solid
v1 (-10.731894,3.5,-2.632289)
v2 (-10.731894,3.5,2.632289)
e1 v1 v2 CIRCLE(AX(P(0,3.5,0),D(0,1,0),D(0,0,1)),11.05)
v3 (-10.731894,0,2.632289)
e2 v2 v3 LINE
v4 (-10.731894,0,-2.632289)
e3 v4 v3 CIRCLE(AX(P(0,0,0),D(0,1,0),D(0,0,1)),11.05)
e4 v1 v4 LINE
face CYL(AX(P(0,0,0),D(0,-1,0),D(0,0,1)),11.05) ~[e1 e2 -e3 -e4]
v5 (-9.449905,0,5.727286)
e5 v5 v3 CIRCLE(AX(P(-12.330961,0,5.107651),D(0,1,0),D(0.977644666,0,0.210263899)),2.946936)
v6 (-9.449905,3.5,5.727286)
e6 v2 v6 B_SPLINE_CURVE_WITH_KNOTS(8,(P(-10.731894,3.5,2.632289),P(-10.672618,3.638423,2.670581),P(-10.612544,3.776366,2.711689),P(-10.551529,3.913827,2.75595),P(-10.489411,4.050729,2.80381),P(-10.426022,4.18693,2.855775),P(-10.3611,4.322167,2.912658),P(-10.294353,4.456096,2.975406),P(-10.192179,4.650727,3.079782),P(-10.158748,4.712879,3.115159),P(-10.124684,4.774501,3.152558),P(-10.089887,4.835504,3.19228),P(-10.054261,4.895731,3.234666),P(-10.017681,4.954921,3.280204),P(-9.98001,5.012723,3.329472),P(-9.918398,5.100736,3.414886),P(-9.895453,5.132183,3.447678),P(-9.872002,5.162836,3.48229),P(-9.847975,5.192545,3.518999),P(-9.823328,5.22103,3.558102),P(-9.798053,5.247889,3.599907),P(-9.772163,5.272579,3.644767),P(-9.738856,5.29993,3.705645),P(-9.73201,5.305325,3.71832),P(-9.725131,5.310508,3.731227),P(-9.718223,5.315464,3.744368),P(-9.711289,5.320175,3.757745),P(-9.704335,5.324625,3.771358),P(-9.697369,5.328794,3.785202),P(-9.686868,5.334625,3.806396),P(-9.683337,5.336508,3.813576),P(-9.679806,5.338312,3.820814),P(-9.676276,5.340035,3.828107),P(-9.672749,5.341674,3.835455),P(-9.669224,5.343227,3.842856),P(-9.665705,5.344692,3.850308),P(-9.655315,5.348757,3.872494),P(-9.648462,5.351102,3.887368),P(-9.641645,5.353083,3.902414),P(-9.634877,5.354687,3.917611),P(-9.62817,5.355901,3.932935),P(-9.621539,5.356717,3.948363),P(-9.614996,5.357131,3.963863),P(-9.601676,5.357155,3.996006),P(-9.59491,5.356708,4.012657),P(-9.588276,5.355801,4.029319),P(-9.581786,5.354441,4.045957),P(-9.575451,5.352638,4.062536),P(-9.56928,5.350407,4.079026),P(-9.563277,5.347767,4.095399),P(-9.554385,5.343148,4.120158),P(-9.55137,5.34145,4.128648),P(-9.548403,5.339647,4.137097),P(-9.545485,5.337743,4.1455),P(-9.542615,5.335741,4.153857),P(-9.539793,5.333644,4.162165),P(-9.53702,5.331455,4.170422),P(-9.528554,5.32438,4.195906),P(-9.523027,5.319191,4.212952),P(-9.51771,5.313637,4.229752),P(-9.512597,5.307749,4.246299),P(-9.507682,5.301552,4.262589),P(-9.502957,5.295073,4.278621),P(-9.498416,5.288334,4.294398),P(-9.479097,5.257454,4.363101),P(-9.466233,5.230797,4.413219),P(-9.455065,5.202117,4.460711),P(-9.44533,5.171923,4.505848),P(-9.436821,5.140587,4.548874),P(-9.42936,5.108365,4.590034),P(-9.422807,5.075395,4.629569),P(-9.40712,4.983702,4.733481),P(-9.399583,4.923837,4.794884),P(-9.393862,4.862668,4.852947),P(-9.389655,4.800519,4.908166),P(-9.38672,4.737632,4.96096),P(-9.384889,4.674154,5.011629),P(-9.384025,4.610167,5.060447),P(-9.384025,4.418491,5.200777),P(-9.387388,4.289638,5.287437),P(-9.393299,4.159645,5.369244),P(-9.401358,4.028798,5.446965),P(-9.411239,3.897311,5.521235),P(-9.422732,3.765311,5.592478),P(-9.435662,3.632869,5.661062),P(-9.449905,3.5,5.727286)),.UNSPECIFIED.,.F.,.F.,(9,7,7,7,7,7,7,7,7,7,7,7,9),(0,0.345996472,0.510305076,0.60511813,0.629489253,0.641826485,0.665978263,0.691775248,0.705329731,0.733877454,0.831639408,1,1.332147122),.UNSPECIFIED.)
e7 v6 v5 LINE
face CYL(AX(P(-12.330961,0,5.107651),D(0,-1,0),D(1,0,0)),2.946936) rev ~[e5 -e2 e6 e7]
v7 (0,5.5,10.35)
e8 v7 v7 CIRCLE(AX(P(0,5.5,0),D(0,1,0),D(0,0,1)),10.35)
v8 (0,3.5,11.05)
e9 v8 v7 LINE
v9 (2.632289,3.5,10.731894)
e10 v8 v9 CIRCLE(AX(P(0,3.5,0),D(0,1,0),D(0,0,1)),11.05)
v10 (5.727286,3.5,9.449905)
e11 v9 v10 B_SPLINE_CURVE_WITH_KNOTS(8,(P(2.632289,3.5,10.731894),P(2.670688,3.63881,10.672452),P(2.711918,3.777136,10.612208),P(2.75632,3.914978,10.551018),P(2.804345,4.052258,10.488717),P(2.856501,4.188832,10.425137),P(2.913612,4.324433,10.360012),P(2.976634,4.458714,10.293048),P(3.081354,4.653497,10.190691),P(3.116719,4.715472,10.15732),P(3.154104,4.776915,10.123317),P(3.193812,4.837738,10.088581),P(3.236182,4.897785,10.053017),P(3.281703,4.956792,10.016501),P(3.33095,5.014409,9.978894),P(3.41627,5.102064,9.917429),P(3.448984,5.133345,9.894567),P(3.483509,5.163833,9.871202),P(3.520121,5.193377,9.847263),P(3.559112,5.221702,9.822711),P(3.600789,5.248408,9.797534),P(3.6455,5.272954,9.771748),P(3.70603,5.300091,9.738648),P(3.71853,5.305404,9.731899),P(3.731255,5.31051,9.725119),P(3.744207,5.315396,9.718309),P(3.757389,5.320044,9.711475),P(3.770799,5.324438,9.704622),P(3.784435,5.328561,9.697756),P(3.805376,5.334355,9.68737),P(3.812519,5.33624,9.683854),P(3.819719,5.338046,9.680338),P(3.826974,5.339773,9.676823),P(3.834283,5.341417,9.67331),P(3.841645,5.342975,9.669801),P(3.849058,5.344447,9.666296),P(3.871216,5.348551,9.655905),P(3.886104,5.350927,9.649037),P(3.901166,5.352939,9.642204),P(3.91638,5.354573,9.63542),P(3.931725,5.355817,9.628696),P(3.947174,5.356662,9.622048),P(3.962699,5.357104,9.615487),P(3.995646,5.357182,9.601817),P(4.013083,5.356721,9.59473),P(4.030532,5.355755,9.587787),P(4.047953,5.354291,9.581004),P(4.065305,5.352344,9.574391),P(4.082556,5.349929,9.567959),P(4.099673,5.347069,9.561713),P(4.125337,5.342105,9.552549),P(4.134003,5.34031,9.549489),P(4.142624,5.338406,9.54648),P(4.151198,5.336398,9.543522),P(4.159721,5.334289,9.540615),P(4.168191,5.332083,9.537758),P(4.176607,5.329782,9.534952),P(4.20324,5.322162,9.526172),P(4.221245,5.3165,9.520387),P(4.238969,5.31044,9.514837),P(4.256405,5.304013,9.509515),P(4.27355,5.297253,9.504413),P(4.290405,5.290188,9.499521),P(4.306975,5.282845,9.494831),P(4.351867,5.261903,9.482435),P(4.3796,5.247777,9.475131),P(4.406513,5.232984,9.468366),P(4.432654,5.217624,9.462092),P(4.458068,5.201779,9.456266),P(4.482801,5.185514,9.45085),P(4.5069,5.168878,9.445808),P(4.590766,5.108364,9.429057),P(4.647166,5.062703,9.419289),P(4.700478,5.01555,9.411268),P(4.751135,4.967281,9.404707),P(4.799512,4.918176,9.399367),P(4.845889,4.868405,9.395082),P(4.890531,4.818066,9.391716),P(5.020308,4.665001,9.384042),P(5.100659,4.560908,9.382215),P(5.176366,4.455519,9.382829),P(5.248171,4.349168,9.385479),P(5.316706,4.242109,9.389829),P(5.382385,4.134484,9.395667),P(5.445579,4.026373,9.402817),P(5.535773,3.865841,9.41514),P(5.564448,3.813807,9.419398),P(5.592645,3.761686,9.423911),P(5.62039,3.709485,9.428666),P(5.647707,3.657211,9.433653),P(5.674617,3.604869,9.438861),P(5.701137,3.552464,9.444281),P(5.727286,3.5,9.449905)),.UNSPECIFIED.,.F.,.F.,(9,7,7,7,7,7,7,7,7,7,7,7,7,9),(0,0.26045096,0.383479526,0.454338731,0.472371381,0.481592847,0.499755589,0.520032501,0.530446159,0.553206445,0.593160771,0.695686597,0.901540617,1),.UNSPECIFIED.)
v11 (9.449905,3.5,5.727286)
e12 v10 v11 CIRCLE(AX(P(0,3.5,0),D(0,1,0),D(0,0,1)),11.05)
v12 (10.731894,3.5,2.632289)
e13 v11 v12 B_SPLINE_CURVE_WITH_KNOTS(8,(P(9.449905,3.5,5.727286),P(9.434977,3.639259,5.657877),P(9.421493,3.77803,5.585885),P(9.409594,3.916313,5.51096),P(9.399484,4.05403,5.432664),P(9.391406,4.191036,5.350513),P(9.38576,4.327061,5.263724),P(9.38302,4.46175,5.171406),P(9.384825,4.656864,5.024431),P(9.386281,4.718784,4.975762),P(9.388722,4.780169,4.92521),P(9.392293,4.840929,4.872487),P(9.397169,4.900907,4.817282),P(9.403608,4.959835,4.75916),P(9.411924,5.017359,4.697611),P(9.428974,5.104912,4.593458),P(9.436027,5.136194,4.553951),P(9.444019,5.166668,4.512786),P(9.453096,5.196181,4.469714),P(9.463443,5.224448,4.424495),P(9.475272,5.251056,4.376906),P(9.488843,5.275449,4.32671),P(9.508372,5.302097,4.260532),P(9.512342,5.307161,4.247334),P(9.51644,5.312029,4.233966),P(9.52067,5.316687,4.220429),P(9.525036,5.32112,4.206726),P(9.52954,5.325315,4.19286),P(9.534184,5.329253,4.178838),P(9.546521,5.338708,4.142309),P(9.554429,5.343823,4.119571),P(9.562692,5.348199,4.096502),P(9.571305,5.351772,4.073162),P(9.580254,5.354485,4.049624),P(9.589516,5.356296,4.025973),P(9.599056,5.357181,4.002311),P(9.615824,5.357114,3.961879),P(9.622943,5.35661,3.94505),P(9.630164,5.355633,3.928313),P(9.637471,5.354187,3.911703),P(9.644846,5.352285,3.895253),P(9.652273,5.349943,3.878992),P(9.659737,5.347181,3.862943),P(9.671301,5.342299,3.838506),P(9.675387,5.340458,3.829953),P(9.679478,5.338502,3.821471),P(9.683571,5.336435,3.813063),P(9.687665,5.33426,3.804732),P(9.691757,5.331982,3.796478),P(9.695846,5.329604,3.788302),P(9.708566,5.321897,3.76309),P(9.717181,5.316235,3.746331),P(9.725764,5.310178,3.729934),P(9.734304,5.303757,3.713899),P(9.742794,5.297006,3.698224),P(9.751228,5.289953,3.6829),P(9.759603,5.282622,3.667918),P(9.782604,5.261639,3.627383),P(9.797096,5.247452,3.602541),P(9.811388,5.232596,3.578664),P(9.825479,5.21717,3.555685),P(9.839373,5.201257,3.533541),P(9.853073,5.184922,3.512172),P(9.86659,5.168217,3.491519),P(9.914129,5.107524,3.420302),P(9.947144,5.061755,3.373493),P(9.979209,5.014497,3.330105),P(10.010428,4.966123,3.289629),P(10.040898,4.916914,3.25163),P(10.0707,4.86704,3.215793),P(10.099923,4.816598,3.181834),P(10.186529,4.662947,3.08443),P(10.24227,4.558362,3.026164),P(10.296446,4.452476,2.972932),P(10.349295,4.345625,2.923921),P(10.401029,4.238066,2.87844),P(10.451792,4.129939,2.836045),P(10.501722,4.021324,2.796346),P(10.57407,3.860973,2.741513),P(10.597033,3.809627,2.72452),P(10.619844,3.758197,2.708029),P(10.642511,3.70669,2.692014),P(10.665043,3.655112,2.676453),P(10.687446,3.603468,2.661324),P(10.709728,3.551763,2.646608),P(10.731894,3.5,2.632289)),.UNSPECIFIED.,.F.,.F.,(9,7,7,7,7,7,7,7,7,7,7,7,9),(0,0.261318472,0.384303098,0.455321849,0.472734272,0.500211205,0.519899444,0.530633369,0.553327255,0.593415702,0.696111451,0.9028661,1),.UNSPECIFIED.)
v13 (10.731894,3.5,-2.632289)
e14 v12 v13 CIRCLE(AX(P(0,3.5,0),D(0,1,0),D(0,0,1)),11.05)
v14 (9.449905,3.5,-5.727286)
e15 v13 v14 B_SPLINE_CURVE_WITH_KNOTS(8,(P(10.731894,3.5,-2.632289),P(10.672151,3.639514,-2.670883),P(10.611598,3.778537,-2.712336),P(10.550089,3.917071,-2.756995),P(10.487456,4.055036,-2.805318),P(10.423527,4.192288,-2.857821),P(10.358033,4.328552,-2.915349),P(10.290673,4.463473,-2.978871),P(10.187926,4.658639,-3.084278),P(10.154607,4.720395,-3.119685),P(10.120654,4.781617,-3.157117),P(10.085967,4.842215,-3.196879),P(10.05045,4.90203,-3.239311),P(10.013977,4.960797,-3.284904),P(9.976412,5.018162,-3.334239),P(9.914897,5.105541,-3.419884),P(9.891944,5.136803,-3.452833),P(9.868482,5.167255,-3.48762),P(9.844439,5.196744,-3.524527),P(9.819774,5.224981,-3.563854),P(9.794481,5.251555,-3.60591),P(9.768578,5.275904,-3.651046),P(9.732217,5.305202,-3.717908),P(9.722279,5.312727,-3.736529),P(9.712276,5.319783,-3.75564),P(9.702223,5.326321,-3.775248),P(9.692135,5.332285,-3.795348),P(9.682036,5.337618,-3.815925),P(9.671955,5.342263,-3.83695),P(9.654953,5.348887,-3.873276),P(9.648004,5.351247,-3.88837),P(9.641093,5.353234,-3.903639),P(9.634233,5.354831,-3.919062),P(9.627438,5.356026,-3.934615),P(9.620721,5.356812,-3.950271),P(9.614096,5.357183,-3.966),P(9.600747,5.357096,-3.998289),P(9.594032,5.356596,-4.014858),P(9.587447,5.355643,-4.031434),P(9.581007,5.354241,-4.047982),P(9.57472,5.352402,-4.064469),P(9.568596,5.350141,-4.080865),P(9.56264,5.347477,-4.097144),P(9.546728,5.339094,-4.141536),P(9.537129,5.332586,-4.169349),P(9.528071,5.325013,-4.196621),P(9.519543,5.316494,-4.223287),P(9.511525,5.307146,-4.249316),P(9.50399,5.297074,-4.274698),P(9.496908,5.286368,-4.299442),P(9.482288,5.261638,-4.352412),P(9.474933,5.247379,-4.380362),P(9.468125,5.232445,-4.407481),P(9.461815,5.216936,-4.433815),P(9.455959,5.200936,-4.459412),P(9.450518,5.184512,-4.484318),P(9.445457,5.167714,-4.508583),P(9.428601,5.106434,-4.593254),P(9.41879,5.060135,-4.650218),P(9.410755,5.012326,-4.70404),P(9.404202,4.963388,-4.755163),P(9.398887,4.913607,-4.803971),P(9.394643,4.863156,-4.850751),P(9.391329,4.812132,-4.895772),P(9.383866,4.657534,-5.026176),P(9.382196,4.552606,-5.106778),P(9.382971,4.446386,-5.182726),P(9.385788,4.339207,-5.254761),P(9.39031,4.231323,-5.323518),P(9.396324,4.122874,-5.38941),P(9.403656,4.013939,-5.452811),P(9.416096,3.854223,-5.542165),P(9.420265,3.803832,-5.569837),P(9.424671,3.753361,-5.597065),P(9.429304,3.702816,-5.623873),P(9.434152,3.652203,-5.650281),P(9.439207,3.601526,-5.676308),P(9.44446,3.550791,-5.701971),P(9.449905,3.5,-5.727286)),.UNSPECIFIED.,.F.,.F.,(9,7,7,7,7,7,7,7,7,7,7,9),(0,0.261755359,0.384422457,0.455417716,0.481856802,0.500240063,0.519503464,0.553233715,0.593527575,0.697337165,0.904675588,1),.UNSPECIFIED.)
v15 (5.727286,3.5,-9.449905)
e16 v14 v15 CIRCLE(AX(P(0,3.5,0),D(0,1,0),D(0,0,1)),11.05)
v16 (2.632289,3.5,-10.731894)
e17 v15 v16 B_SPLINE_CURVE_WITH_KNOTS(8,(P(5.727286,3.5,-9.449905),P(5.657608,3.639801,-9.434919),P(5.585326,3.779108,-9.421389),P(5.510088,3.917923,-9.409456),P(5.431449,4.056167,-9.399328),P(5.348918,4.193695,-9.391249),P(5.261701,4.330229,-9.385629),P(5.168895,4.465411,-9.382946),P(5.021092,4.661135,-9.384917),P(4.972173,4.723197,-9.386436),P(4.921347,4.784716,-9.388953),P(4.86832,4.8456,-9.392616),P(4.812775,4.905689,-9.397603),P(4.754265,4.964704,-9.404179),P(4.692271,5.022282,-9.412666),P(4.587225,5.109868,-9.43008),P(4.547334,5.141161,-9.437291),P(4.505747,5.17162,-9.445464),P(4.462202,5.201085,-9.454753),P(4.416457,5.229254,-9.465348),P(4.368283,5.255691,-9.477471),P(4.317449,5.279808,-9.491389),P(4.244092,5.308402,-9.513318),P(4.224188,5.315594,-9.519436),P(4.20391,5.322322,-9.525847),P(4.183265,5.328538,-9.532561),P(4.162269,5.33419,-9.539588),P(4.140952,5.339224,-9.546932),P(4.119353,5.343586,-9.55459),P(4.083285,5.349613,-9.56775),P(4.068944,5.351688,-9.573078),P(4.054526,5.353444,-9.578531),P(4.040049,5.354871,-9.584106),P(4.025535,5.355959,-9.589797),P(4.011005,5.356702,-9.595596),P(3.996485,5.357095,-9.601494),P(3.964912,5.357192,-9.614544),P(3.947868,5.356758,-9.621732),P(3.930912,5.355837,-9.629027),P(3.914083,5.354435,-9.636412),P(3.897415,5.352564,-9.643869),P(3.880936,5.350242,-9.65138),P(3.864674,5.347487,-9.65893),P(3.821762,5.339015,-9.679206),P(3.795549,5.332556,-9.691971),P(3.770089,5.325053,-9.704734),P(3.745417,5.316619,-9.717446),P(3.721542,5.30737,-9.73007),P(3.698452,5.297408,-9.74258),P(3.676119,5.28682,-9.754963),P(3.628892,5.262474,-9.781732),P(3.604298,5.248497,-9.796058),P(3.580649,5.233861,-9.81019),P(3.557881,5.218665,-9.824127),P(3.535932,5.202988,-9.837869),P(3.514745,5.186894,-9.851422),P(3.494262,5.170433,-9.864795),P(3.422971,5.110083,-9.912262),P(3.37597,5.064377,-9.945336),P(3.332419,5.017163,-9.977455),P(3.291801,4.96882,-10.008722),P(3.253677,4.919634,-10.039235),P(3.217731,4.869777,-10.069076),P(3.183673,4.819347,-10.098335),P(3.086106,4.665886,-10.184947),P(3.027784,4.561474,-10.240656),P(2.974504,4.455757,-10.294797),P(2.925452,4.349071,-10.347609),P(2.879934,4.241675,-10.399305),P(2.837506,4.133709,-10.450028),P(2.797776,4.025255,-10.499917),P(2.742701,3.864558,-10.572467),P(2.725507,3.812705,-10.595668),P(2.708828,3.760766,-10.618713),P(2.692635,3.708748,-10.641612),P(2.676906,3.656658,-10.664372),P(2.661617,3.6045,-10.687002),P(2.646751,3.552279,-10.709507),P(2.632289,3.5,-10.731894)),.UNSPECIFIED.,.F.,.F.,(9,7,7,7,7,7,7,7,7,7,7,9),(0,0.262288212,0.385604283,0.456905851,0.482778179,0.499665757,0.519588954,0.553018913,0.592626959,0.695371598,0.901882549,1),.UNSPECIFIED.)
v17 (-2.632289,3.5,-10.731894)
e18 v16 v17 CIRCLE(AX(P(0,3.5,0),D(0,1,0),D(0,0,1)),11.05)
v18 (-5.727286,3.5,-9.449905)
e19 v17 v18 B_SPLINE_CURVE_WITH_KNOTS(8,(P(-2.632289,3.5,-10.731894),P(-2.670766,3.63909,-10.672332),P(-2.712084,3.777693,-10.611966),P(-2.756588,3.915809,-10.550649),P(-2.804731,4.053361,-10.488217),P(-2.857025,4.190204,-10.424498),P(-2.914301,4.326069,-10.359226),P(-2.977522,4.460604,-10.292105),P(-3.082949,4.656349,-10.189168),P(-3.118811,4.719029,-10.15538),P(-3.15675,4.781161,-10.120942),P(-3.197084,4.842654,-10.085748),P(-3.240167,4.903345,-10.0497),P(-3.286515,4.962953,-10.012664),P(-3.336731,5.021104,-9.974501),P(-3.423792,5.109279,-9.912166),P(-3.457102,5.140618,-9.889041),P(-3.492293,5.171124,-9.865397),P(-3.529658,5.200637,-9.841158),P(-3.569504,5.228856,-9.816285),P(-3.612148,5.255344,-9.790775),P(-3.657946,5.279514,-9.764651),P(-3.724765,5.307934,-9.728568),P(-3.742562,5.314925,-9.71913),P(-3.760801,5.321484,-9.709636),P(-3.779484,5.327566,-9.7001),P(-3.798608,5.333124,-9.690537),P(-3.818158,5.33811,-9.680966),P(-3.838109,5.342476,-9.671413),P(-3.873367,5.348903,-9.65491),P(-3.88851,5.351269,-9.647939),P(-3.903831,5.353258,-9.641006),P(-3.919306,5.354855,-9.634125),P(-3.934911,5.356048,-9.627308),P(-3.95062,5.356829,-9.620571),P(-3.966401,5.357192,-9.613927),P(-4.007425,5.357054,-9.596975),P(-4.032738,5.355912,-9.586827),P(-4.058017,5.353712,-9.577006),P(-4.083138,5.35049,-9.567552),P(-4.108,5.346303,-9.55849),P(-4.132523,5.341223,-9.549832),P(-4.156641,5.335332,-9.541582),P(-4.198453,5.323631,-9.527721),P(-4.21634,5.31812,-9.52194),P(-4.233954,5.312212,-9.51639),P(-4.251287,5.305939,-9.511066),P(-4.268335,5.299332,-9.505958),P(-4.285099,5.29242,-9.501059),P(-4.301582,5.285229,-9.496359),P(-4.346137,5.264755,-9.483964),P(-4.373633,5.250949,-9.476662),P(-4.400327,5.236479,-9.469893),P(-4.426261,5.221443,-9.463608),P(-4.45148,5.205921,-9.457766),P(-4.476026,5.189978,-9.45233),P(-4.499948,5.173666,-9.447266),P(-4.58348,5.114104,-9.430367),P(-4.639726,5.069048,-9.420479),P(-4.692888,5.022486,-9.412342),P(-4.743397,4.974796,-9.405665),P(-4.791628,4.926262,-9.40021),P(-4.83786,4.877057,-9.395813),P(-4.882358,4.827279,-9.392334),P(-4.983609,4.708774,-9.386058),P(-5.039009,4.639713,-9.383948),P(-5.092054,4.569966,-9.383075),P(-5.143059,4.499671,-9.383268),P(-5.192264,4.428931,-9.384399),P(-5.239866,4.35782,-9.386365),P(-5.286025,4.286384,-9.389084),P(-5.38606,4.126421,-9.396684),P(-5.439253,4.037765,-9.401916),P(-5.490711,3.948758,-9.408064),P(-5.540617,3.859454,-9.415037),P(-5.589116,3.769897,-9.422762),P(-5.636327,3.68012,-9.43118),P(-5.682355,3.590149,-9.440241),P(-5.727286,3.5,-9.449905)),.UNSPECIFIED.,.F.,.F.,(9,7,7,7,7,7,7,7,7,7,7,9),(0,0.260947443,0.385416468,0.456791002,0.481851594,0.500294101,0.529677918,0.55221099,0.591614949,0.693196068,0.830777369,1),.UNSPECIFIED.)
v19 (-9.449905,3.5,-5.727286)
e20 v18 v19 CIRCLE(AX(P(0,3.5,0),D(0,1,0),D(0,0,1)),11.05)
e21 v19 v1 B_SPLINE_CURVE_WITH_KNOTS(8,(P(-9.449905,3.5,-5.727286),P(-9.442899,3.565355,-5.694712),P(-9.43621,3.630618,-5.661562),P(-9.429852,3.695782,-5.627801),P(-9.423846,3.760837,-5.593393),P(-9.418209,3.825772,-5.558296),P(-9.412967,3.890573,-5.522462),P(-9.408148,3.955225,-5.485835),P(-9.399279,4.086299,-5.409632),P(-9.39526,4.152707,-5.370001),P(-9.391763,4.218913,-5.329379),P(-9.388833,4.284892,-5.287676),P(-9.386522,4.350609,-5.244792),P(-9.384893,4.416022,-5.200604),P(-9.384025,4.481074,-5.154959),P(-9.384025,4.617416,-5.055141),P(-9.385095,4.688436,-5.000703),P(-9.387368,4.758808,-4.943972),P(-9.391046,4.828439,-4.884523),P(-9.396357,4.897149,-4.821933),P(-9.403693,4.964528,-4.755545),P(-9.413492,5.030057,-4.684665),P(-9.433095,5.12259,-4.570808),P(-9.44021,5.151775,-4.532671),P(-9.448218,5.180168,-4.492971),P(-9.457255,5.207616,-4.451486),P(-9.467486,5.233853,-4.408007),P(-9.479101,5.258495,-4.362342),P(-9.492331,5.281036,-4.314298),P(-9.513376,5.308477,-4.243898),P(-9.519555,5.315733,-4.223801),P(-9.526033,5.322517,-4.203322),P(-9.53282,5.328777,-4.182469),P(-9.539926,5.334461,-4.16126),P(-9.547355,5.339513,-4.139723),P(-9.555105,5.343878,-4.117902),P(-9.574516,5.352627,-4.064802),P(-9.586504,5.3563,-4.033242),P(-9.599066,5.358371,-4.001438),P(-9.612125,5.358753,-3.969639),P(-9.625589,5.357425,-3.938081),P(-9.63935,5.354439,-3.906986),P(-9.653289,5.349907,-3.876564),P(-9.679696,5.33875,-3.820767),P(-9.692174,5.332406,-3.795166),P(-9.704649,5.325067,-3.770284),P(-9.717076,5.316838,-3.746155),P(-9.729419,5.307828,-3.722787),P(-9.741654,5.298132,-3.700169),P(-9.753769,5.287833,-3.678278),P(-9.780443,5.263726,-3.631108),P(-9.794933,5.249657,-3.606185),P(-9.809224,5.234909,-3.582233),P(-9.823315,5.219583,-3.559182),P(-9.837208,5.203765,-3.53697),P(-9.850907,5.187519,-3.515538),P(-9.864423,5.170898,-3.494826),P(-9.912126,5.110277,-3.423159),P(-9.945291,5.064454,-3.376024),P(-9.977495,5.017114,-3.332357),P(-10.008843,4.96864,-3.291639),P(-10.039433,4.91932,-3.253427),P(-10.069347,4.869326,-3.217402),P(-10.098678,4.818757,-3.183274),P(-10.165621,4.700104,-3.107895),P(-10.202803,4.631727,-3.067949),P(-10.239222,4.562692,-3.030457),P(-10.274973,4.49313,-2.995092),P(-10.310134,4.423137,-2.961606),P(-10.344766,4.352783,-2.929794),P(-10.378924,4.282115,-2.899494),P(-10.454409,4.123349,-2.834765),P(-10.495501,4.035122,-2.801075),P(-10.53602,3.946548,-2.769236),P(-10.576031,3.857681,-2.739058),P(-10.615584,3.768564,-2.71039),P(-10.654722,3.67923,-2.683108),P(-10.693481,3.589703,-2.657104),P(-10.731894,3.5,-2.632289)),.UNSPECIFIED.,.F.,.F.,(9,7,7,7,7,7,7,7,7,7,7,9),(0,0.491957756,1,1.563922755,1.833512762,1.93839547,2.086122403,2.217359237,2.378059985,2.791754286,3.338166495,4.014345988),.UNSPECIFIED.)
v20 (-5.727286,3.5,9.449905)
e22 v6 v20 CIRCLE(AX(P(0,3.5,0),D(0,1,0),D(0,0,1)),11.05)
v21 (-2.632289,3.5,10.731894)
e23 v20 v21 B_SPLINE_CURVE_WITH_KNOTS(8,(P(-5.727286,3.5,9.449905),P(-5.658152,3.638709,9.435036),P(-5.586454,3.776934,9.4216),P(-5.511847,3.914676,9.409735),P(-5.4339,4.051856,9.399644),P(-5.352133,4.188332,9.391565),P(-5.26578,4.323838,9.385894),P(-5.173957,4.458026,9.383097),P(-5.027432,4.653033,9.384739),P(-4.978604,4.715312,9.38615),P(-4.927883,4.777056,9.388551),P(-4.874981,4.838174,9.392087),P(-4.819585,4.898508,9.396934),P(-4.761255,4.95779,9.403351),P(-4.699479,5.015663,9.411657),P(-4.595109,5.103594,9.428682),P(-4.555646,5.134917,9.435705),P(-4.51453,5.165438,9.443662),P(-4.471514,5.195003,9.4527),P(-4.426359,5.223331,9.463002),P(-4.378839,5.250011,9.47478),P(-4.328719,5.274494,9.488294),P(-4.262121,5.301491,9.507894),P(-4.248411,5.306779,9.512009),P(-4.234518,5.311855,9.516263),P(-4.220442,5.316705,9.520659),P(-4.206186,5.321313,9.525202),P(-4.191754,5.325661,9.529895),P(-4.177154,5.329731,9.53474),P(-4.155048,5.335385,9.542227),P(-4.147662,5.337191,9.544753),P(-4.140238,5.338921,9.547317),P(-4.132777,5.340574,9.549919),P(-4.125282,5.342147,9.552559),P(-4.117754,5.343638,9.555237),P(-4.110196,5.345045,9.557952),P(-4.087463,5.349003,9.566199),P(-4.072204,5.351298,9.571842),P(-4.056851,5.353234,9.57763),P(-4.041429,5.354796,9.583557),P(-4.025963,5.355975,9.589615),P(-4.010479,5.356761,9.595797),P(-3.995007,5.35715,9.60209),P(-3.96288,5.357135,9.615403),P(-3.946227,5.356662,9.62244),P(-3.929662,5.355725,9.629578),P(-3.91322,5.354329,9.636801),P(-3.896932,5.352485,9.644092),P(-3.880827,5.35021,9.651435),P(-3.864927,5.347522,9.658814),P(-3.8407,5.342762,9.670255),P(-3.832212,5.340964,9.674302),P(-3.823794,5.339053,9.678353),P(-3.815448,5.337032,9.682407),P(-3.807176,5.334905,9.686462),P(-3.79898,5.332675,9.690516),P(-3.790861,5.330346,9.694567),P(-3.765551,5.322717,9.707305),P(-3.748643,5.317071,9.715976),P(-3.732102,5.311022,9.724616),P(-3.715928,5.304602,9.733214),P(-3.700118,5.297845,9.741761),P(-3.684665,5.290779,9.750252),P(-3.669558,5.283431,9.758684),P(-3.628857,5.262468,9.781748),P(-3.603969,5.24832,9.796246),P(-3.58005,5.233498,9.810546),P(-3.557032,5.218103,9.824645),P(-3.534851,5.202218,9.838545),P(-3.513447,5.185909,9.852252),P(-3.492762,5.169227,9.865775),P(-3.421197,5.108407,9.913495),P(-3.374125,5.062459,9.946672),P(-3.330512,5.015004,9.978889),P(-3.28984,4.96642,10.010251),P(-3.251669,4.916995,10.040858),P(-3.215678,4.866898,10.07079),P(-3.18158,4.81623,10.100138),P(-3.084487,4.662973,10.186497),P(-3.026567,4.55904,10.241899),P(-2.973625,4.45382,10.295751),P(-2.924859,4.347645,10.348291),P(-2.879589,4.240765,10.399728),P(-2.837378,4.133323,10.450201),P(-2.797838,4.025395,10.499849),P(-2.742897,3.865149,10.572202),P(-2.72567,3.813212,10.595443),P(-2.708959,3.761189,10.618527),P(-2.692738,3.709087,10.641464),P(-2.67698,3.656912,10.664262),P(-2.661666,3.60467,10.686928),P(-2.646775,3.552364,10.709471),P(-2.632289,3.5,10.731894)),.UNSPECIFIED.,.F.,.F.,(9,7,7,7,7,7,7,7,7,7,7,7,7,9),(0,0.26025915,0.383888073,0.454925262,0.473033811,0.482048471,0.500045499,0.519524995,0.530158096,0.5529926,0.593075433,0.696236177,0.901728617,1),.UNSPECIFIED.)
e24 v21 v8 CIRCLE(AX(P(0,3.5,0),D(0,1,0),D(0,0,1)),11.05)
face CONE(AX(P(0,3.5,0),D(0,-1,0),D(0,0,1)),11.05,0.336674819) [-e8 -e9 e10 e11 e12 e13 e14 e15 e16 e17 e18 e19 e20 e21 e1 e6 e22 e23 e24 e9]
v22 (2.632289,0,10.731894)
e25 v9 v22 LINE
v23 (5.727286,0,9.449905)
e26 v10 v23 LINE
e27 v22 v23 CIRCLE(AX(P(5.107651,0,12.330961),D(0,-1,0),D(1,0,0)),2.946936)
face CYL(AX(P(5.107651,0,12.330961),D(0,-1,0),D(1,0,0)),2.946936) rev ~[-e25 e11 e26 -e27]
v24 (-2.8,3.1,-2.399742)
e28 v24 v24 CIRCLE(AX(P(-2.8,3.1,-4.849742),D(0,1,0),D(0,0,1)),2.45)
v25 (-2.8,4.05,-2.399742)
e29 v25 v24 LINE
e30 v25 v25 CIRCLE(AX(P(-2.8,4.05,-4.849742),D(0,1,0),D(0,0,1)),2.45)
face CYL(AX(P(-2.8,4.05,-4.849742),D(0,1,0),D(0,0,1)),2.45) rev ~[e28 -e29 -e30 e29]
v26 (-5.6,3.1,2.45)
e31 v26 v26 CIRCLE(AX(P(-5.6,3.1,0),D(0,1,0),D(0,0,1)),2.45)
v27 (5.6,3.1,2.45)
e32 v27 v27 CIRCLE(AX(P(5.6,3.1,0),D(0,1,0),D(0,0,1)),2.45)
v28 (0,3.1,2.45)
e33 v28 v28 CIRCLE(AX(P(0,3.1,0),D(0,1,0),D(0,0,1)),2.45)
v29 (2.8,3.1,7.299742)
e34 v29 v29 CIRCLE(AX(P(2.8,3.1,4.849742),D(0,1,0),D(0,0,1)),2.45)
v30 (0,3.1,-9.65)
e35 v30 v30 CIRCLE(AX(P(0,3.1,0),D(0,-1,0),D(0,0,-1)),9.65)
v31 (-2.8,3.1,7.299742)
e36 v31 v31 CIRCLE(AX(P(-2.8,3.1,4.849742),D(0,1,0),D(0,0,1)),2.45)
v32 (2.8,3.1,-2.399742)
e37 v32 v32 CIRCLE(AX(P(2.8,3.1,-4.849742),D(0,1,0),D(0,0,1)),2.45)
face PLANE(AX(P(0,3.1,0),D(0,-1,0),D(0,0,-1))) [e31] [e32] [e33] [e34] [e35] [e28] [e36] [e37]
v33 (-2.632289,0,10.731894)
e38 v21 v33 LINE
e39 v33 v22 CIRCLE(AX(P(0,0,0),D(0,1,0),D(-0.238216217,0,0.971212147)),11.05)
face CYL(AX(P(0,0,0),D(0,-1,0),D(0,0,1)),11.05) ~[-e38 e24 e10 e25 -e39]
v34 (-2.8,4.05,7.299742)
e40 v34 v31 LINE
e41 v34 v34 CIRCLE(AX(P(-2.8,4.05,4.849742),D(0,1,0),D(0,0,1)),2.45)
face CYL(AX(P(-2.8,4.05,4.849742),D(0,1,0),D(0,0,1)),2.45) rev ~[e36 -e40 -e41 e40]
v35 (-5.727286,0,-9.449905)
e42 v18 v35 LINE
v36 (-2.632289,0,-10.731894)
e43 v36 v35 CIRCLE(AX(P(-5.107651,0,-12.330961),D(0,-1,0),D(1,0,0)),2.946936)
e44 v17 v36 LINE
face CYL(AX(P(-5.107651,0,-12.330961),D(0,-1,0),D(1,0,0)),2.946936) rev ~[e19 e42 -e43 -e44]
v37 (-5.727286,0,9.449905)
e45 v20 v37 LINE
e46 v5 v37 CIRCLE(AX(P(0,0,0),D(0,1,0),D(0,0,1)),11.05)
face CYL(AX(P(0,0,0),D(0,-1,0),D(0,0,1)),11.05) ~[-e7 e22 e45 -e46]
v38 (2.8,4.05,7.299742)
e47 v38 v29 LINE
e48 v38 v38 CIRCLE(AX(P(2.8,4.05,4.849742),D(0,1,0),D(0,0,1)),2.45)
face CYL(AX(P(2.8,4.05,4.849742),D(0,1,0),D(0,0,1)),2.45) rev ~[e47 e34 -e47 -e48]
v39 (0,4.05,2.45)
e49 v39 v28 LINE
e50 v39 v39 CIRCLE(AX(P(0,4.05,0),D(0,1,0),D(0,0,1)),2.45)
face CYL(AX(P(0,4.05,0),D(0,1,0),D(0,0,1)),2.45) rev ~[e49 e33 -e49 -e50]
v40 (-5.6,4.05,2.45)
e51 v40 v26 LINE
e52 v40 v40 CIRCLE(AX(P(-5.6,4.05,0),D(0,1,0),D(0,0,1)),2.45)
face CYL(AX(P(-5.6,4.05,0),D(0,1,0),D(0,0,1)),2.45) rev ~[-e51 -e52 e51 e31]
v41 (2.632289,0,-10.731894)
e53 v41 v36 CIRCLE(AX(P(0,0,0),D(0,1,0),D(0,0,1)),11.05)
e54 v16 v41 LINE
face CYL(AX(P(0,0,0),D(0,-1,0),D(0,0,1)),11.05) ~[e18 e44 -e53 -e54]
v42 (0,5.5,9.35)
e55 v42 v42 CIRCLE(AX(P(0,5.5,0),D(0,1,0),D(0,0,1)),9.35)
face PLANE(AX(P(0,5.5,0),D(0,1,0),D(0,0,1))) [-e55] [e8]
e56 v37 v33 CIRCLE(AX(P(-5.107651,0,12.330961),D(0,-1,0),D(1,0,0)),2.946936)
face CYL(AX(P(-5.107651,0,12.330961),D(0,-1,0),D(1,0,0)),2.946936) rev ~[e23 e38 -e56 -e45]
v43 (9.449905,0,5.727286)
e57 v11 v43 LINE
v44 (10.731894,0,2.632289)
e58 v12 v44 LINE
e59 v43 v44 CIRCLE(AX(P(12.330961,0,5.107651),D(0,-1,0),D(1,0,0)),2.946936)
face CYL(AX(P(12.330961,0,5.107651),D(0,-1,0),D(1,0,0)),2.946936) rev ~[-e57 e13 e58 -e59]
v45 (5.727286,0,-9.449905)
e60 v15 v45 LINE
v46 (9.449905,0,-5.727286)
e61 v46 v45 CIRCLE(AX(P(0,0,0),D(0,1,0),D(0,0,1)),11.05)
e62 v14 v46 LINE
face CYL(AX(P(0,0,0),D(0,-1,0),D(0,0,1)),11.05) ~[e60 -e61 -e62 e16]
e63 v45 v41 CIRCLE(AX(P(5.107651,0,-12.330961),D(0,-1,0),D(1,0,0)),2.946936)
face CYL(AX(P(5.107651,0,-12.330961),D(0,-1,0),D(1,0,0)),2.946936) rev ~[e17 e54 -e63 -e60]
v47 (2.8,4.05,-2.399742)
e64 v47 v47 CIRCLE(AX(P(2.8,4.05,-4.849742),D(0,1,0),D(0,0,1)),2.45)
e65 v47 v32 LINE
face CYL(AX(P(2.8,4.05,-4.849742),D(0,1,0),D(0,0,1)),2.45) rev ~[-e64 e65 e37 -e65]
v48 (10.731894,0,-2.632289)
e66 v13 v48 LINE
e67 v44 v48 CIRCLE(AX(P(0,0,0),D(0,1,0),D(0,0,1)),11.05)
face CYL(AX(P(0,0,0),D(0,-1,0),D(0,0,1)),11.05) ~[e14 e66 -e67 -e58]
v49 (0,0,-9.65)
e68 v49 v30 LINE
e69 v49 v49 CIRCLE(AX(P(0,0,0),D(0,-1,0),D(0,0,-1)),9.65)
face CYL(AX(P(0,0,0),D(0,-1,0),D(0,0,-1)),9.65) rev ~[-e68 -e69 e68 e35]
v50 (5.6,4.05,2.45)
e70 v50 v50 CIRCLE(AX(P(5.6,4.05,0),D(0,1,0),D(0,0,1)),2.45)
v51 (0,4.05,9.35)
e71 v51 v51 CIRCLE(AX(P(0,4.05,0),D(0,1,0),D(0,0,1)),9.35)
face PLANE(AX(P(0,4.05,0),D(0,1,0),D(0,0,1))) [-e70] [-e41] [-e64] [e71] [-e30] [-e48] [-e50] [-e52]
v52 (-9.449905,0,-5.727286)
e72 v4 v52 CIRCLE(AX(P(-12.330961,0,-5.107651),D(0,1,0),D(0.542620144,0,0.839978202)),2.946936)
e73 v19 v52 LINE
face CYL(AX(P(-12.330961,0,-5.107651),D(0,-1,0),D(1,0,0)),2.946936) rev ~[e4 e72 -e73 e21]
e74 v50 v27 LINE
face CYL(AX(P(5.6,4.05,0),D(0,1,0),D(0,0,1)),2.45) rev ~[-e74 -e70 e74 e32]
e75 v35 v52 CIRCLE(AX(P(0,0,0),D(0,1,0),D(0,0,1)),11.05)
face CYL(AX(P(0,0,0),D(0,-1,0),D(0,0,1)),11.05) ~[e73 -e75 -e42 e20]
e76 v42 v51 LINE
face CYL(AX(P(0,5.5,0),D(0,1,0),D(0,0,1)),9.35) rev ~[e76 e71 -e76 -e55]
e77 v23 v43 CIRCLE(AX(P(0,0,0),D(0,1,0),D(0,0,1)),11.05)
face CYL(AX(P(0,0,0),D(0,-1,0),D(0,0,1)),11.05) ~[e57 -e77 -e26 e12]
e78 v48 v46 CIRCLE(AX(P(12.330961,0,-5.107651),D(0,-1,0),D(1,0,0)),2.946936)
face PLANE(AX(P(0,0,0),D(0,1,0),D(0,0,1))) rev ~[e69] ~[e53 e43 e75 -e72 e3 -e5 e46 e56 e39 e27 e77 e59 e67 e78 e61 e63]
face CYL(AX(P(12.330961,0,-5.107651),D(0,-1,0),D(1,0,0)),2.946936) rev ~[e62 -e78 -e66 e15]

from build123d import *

# Parameters (mm, degrees)
CROQUIS1_R              = 11.05
SALIENTE_EXTRUIR1_DEPTH = 5.5
CHAFL_N1_SIZE           = 2
CHAFL_N1_SIZE2          = 0.7
CROQUIS2_R              = 9.35
CORTAR_EXTRUIR1_DEPTH   = 1.45
CROQUIS3_R              = 9.65
CORTAR_EXTRUIR2_DEPTH   = 3.1
CROQUIS4_R              = 2.45
CORTAR_EXTRUIR3_DEPTH   = 0.95
CROQUIS5_R              = 2.94693617
CORTAR_EXTRUIR4_DEPTH   = 7


with BuildPart() as part:
    # Croquis1 → Saliente-Extruir1 (new body)
    with BuildSketch(Plane(origin=(0, 0, 0), x_dir=(1, 0, 0), z_dir=(0, 1, 0))):
        with Locations(Location((0, 0, 0), (0, 0, 270))):
            Circle(CROQUIS1_R)
    extrude(amount=SALIENTE_EXTRUIR1_DEPTH)

    # Chaflán1
    chafl_n1_edges = [part.edges().sort_by_distance(p)[0] for p in [
        (0, 5.5, -11.05),
    ]]
    chafl_n1_side = [part.faces().sort_by_distance(p)[0] for p in [
        (0, 2.75, -11.05),
    ]]
    chamfer(chafl_n1_edges, length=CHAFL_N1_SIZE, length2=CHAFL_N1_SIZE2, reference=chafl_n1_side[0])

    # Croquis2 → Cortar-Extruir1 (cut)
    with BuildSketch(Plane(origin=(0, 5.5, 0), x_dir=(1, 0, 0), z_dir=(0, 1, 0))):
        with Locations(Location((0, 0, 0), (0, 0, 270))):
            Circle(CROQUIS2_R)
    extrude(amount=-CORTAR_EXTRUIR1_DEPTH, mode=Mode.SUBTRACT)

    # Croquis3 → Cortar-Extruir2 (cut)
    with BuildSketch(Plane.XZ):
        with Locations(Location((0, 0, 0), (0, 0, 270))):
            Circle(CROQUIS3_R)
    extrude(amount=-CORTAR_EXTRUIR2_DEPTH, mode=Mode.SUBTRACT)

    # Croquis4 → Cortar-Extruir3 (cut)
    with BuildSketch(Plane(origin=(0, 4.05, 0), x_dir=(1, 0, 0), z_dir=(0, 1, 0))):
        with Locations(Location((0, 0, 0), (0, 0, 270))):
            Circle(CROQUIS4_R)
        with Locations(Location((5.6, 0, 0), (0, 0, 270))):
            Circle(CROQUIS4_R)
        with Locations(Location((2.8, 4.849742261, 0), (0, 0, 270))):
            Circle(CROQUIS4_R)
        with Locations(Location((-2.8, 4.849742261, 0), (0, 0, 270))):
            Circle(CROQUIS4_R)
        with Locations(Location((-5.6, 0, 0), (0, 0, 270))):
            Circle(CROQUIS4_R)
        with Locations(Location((-2.8, -4.849742261, 0), (0, 0, 270))):
            Circle(CROQUIS4_R)
        with Locations(Location((2.8, -4.849742261, 0), (0, 0, 270))):
            Circle(CROQUIS4_R)
    extrude(amount=-CORTAR_EXTRUIR3_DEPTH, mode=Mode.SUBTRACT)

    # Croquis5 → Cortar-Extruir4 (cut)
    with BuildSketch(Plane.XZ):
        with Locations((5.107651345, 12.330961149)):
            Circle(CROQUIS5_R)
        with Locations((12.330961149, 5.107651345)):
            Circle(CROQUIS5_R)
        with Locations((12.330961149, -5.107651345)):
            Circle(CROQUIS5_R)
        with Locations((5.107651345, -12.330961149)):
            Circle(CROQUIS5_R)
        with Locations((-5.107651345, -12.330961149)):
            Circle(CROQUIS5_R)
        with Locations((-12.330961149, -5.107651345)):
            Circle(CROQUIS5_R)
        with Locations((-12.330961149, 5.107651345)):
            Circle(CROQUIS5_R)
        with Locations((-5.107651345, 12.330961149)):
            Circle(CROQUIS5_R)
    extrude(amount=-CORTAR_EXTRUIR4_DEPTH, mode=Mode.SUBTRACT)


solid = part.part
